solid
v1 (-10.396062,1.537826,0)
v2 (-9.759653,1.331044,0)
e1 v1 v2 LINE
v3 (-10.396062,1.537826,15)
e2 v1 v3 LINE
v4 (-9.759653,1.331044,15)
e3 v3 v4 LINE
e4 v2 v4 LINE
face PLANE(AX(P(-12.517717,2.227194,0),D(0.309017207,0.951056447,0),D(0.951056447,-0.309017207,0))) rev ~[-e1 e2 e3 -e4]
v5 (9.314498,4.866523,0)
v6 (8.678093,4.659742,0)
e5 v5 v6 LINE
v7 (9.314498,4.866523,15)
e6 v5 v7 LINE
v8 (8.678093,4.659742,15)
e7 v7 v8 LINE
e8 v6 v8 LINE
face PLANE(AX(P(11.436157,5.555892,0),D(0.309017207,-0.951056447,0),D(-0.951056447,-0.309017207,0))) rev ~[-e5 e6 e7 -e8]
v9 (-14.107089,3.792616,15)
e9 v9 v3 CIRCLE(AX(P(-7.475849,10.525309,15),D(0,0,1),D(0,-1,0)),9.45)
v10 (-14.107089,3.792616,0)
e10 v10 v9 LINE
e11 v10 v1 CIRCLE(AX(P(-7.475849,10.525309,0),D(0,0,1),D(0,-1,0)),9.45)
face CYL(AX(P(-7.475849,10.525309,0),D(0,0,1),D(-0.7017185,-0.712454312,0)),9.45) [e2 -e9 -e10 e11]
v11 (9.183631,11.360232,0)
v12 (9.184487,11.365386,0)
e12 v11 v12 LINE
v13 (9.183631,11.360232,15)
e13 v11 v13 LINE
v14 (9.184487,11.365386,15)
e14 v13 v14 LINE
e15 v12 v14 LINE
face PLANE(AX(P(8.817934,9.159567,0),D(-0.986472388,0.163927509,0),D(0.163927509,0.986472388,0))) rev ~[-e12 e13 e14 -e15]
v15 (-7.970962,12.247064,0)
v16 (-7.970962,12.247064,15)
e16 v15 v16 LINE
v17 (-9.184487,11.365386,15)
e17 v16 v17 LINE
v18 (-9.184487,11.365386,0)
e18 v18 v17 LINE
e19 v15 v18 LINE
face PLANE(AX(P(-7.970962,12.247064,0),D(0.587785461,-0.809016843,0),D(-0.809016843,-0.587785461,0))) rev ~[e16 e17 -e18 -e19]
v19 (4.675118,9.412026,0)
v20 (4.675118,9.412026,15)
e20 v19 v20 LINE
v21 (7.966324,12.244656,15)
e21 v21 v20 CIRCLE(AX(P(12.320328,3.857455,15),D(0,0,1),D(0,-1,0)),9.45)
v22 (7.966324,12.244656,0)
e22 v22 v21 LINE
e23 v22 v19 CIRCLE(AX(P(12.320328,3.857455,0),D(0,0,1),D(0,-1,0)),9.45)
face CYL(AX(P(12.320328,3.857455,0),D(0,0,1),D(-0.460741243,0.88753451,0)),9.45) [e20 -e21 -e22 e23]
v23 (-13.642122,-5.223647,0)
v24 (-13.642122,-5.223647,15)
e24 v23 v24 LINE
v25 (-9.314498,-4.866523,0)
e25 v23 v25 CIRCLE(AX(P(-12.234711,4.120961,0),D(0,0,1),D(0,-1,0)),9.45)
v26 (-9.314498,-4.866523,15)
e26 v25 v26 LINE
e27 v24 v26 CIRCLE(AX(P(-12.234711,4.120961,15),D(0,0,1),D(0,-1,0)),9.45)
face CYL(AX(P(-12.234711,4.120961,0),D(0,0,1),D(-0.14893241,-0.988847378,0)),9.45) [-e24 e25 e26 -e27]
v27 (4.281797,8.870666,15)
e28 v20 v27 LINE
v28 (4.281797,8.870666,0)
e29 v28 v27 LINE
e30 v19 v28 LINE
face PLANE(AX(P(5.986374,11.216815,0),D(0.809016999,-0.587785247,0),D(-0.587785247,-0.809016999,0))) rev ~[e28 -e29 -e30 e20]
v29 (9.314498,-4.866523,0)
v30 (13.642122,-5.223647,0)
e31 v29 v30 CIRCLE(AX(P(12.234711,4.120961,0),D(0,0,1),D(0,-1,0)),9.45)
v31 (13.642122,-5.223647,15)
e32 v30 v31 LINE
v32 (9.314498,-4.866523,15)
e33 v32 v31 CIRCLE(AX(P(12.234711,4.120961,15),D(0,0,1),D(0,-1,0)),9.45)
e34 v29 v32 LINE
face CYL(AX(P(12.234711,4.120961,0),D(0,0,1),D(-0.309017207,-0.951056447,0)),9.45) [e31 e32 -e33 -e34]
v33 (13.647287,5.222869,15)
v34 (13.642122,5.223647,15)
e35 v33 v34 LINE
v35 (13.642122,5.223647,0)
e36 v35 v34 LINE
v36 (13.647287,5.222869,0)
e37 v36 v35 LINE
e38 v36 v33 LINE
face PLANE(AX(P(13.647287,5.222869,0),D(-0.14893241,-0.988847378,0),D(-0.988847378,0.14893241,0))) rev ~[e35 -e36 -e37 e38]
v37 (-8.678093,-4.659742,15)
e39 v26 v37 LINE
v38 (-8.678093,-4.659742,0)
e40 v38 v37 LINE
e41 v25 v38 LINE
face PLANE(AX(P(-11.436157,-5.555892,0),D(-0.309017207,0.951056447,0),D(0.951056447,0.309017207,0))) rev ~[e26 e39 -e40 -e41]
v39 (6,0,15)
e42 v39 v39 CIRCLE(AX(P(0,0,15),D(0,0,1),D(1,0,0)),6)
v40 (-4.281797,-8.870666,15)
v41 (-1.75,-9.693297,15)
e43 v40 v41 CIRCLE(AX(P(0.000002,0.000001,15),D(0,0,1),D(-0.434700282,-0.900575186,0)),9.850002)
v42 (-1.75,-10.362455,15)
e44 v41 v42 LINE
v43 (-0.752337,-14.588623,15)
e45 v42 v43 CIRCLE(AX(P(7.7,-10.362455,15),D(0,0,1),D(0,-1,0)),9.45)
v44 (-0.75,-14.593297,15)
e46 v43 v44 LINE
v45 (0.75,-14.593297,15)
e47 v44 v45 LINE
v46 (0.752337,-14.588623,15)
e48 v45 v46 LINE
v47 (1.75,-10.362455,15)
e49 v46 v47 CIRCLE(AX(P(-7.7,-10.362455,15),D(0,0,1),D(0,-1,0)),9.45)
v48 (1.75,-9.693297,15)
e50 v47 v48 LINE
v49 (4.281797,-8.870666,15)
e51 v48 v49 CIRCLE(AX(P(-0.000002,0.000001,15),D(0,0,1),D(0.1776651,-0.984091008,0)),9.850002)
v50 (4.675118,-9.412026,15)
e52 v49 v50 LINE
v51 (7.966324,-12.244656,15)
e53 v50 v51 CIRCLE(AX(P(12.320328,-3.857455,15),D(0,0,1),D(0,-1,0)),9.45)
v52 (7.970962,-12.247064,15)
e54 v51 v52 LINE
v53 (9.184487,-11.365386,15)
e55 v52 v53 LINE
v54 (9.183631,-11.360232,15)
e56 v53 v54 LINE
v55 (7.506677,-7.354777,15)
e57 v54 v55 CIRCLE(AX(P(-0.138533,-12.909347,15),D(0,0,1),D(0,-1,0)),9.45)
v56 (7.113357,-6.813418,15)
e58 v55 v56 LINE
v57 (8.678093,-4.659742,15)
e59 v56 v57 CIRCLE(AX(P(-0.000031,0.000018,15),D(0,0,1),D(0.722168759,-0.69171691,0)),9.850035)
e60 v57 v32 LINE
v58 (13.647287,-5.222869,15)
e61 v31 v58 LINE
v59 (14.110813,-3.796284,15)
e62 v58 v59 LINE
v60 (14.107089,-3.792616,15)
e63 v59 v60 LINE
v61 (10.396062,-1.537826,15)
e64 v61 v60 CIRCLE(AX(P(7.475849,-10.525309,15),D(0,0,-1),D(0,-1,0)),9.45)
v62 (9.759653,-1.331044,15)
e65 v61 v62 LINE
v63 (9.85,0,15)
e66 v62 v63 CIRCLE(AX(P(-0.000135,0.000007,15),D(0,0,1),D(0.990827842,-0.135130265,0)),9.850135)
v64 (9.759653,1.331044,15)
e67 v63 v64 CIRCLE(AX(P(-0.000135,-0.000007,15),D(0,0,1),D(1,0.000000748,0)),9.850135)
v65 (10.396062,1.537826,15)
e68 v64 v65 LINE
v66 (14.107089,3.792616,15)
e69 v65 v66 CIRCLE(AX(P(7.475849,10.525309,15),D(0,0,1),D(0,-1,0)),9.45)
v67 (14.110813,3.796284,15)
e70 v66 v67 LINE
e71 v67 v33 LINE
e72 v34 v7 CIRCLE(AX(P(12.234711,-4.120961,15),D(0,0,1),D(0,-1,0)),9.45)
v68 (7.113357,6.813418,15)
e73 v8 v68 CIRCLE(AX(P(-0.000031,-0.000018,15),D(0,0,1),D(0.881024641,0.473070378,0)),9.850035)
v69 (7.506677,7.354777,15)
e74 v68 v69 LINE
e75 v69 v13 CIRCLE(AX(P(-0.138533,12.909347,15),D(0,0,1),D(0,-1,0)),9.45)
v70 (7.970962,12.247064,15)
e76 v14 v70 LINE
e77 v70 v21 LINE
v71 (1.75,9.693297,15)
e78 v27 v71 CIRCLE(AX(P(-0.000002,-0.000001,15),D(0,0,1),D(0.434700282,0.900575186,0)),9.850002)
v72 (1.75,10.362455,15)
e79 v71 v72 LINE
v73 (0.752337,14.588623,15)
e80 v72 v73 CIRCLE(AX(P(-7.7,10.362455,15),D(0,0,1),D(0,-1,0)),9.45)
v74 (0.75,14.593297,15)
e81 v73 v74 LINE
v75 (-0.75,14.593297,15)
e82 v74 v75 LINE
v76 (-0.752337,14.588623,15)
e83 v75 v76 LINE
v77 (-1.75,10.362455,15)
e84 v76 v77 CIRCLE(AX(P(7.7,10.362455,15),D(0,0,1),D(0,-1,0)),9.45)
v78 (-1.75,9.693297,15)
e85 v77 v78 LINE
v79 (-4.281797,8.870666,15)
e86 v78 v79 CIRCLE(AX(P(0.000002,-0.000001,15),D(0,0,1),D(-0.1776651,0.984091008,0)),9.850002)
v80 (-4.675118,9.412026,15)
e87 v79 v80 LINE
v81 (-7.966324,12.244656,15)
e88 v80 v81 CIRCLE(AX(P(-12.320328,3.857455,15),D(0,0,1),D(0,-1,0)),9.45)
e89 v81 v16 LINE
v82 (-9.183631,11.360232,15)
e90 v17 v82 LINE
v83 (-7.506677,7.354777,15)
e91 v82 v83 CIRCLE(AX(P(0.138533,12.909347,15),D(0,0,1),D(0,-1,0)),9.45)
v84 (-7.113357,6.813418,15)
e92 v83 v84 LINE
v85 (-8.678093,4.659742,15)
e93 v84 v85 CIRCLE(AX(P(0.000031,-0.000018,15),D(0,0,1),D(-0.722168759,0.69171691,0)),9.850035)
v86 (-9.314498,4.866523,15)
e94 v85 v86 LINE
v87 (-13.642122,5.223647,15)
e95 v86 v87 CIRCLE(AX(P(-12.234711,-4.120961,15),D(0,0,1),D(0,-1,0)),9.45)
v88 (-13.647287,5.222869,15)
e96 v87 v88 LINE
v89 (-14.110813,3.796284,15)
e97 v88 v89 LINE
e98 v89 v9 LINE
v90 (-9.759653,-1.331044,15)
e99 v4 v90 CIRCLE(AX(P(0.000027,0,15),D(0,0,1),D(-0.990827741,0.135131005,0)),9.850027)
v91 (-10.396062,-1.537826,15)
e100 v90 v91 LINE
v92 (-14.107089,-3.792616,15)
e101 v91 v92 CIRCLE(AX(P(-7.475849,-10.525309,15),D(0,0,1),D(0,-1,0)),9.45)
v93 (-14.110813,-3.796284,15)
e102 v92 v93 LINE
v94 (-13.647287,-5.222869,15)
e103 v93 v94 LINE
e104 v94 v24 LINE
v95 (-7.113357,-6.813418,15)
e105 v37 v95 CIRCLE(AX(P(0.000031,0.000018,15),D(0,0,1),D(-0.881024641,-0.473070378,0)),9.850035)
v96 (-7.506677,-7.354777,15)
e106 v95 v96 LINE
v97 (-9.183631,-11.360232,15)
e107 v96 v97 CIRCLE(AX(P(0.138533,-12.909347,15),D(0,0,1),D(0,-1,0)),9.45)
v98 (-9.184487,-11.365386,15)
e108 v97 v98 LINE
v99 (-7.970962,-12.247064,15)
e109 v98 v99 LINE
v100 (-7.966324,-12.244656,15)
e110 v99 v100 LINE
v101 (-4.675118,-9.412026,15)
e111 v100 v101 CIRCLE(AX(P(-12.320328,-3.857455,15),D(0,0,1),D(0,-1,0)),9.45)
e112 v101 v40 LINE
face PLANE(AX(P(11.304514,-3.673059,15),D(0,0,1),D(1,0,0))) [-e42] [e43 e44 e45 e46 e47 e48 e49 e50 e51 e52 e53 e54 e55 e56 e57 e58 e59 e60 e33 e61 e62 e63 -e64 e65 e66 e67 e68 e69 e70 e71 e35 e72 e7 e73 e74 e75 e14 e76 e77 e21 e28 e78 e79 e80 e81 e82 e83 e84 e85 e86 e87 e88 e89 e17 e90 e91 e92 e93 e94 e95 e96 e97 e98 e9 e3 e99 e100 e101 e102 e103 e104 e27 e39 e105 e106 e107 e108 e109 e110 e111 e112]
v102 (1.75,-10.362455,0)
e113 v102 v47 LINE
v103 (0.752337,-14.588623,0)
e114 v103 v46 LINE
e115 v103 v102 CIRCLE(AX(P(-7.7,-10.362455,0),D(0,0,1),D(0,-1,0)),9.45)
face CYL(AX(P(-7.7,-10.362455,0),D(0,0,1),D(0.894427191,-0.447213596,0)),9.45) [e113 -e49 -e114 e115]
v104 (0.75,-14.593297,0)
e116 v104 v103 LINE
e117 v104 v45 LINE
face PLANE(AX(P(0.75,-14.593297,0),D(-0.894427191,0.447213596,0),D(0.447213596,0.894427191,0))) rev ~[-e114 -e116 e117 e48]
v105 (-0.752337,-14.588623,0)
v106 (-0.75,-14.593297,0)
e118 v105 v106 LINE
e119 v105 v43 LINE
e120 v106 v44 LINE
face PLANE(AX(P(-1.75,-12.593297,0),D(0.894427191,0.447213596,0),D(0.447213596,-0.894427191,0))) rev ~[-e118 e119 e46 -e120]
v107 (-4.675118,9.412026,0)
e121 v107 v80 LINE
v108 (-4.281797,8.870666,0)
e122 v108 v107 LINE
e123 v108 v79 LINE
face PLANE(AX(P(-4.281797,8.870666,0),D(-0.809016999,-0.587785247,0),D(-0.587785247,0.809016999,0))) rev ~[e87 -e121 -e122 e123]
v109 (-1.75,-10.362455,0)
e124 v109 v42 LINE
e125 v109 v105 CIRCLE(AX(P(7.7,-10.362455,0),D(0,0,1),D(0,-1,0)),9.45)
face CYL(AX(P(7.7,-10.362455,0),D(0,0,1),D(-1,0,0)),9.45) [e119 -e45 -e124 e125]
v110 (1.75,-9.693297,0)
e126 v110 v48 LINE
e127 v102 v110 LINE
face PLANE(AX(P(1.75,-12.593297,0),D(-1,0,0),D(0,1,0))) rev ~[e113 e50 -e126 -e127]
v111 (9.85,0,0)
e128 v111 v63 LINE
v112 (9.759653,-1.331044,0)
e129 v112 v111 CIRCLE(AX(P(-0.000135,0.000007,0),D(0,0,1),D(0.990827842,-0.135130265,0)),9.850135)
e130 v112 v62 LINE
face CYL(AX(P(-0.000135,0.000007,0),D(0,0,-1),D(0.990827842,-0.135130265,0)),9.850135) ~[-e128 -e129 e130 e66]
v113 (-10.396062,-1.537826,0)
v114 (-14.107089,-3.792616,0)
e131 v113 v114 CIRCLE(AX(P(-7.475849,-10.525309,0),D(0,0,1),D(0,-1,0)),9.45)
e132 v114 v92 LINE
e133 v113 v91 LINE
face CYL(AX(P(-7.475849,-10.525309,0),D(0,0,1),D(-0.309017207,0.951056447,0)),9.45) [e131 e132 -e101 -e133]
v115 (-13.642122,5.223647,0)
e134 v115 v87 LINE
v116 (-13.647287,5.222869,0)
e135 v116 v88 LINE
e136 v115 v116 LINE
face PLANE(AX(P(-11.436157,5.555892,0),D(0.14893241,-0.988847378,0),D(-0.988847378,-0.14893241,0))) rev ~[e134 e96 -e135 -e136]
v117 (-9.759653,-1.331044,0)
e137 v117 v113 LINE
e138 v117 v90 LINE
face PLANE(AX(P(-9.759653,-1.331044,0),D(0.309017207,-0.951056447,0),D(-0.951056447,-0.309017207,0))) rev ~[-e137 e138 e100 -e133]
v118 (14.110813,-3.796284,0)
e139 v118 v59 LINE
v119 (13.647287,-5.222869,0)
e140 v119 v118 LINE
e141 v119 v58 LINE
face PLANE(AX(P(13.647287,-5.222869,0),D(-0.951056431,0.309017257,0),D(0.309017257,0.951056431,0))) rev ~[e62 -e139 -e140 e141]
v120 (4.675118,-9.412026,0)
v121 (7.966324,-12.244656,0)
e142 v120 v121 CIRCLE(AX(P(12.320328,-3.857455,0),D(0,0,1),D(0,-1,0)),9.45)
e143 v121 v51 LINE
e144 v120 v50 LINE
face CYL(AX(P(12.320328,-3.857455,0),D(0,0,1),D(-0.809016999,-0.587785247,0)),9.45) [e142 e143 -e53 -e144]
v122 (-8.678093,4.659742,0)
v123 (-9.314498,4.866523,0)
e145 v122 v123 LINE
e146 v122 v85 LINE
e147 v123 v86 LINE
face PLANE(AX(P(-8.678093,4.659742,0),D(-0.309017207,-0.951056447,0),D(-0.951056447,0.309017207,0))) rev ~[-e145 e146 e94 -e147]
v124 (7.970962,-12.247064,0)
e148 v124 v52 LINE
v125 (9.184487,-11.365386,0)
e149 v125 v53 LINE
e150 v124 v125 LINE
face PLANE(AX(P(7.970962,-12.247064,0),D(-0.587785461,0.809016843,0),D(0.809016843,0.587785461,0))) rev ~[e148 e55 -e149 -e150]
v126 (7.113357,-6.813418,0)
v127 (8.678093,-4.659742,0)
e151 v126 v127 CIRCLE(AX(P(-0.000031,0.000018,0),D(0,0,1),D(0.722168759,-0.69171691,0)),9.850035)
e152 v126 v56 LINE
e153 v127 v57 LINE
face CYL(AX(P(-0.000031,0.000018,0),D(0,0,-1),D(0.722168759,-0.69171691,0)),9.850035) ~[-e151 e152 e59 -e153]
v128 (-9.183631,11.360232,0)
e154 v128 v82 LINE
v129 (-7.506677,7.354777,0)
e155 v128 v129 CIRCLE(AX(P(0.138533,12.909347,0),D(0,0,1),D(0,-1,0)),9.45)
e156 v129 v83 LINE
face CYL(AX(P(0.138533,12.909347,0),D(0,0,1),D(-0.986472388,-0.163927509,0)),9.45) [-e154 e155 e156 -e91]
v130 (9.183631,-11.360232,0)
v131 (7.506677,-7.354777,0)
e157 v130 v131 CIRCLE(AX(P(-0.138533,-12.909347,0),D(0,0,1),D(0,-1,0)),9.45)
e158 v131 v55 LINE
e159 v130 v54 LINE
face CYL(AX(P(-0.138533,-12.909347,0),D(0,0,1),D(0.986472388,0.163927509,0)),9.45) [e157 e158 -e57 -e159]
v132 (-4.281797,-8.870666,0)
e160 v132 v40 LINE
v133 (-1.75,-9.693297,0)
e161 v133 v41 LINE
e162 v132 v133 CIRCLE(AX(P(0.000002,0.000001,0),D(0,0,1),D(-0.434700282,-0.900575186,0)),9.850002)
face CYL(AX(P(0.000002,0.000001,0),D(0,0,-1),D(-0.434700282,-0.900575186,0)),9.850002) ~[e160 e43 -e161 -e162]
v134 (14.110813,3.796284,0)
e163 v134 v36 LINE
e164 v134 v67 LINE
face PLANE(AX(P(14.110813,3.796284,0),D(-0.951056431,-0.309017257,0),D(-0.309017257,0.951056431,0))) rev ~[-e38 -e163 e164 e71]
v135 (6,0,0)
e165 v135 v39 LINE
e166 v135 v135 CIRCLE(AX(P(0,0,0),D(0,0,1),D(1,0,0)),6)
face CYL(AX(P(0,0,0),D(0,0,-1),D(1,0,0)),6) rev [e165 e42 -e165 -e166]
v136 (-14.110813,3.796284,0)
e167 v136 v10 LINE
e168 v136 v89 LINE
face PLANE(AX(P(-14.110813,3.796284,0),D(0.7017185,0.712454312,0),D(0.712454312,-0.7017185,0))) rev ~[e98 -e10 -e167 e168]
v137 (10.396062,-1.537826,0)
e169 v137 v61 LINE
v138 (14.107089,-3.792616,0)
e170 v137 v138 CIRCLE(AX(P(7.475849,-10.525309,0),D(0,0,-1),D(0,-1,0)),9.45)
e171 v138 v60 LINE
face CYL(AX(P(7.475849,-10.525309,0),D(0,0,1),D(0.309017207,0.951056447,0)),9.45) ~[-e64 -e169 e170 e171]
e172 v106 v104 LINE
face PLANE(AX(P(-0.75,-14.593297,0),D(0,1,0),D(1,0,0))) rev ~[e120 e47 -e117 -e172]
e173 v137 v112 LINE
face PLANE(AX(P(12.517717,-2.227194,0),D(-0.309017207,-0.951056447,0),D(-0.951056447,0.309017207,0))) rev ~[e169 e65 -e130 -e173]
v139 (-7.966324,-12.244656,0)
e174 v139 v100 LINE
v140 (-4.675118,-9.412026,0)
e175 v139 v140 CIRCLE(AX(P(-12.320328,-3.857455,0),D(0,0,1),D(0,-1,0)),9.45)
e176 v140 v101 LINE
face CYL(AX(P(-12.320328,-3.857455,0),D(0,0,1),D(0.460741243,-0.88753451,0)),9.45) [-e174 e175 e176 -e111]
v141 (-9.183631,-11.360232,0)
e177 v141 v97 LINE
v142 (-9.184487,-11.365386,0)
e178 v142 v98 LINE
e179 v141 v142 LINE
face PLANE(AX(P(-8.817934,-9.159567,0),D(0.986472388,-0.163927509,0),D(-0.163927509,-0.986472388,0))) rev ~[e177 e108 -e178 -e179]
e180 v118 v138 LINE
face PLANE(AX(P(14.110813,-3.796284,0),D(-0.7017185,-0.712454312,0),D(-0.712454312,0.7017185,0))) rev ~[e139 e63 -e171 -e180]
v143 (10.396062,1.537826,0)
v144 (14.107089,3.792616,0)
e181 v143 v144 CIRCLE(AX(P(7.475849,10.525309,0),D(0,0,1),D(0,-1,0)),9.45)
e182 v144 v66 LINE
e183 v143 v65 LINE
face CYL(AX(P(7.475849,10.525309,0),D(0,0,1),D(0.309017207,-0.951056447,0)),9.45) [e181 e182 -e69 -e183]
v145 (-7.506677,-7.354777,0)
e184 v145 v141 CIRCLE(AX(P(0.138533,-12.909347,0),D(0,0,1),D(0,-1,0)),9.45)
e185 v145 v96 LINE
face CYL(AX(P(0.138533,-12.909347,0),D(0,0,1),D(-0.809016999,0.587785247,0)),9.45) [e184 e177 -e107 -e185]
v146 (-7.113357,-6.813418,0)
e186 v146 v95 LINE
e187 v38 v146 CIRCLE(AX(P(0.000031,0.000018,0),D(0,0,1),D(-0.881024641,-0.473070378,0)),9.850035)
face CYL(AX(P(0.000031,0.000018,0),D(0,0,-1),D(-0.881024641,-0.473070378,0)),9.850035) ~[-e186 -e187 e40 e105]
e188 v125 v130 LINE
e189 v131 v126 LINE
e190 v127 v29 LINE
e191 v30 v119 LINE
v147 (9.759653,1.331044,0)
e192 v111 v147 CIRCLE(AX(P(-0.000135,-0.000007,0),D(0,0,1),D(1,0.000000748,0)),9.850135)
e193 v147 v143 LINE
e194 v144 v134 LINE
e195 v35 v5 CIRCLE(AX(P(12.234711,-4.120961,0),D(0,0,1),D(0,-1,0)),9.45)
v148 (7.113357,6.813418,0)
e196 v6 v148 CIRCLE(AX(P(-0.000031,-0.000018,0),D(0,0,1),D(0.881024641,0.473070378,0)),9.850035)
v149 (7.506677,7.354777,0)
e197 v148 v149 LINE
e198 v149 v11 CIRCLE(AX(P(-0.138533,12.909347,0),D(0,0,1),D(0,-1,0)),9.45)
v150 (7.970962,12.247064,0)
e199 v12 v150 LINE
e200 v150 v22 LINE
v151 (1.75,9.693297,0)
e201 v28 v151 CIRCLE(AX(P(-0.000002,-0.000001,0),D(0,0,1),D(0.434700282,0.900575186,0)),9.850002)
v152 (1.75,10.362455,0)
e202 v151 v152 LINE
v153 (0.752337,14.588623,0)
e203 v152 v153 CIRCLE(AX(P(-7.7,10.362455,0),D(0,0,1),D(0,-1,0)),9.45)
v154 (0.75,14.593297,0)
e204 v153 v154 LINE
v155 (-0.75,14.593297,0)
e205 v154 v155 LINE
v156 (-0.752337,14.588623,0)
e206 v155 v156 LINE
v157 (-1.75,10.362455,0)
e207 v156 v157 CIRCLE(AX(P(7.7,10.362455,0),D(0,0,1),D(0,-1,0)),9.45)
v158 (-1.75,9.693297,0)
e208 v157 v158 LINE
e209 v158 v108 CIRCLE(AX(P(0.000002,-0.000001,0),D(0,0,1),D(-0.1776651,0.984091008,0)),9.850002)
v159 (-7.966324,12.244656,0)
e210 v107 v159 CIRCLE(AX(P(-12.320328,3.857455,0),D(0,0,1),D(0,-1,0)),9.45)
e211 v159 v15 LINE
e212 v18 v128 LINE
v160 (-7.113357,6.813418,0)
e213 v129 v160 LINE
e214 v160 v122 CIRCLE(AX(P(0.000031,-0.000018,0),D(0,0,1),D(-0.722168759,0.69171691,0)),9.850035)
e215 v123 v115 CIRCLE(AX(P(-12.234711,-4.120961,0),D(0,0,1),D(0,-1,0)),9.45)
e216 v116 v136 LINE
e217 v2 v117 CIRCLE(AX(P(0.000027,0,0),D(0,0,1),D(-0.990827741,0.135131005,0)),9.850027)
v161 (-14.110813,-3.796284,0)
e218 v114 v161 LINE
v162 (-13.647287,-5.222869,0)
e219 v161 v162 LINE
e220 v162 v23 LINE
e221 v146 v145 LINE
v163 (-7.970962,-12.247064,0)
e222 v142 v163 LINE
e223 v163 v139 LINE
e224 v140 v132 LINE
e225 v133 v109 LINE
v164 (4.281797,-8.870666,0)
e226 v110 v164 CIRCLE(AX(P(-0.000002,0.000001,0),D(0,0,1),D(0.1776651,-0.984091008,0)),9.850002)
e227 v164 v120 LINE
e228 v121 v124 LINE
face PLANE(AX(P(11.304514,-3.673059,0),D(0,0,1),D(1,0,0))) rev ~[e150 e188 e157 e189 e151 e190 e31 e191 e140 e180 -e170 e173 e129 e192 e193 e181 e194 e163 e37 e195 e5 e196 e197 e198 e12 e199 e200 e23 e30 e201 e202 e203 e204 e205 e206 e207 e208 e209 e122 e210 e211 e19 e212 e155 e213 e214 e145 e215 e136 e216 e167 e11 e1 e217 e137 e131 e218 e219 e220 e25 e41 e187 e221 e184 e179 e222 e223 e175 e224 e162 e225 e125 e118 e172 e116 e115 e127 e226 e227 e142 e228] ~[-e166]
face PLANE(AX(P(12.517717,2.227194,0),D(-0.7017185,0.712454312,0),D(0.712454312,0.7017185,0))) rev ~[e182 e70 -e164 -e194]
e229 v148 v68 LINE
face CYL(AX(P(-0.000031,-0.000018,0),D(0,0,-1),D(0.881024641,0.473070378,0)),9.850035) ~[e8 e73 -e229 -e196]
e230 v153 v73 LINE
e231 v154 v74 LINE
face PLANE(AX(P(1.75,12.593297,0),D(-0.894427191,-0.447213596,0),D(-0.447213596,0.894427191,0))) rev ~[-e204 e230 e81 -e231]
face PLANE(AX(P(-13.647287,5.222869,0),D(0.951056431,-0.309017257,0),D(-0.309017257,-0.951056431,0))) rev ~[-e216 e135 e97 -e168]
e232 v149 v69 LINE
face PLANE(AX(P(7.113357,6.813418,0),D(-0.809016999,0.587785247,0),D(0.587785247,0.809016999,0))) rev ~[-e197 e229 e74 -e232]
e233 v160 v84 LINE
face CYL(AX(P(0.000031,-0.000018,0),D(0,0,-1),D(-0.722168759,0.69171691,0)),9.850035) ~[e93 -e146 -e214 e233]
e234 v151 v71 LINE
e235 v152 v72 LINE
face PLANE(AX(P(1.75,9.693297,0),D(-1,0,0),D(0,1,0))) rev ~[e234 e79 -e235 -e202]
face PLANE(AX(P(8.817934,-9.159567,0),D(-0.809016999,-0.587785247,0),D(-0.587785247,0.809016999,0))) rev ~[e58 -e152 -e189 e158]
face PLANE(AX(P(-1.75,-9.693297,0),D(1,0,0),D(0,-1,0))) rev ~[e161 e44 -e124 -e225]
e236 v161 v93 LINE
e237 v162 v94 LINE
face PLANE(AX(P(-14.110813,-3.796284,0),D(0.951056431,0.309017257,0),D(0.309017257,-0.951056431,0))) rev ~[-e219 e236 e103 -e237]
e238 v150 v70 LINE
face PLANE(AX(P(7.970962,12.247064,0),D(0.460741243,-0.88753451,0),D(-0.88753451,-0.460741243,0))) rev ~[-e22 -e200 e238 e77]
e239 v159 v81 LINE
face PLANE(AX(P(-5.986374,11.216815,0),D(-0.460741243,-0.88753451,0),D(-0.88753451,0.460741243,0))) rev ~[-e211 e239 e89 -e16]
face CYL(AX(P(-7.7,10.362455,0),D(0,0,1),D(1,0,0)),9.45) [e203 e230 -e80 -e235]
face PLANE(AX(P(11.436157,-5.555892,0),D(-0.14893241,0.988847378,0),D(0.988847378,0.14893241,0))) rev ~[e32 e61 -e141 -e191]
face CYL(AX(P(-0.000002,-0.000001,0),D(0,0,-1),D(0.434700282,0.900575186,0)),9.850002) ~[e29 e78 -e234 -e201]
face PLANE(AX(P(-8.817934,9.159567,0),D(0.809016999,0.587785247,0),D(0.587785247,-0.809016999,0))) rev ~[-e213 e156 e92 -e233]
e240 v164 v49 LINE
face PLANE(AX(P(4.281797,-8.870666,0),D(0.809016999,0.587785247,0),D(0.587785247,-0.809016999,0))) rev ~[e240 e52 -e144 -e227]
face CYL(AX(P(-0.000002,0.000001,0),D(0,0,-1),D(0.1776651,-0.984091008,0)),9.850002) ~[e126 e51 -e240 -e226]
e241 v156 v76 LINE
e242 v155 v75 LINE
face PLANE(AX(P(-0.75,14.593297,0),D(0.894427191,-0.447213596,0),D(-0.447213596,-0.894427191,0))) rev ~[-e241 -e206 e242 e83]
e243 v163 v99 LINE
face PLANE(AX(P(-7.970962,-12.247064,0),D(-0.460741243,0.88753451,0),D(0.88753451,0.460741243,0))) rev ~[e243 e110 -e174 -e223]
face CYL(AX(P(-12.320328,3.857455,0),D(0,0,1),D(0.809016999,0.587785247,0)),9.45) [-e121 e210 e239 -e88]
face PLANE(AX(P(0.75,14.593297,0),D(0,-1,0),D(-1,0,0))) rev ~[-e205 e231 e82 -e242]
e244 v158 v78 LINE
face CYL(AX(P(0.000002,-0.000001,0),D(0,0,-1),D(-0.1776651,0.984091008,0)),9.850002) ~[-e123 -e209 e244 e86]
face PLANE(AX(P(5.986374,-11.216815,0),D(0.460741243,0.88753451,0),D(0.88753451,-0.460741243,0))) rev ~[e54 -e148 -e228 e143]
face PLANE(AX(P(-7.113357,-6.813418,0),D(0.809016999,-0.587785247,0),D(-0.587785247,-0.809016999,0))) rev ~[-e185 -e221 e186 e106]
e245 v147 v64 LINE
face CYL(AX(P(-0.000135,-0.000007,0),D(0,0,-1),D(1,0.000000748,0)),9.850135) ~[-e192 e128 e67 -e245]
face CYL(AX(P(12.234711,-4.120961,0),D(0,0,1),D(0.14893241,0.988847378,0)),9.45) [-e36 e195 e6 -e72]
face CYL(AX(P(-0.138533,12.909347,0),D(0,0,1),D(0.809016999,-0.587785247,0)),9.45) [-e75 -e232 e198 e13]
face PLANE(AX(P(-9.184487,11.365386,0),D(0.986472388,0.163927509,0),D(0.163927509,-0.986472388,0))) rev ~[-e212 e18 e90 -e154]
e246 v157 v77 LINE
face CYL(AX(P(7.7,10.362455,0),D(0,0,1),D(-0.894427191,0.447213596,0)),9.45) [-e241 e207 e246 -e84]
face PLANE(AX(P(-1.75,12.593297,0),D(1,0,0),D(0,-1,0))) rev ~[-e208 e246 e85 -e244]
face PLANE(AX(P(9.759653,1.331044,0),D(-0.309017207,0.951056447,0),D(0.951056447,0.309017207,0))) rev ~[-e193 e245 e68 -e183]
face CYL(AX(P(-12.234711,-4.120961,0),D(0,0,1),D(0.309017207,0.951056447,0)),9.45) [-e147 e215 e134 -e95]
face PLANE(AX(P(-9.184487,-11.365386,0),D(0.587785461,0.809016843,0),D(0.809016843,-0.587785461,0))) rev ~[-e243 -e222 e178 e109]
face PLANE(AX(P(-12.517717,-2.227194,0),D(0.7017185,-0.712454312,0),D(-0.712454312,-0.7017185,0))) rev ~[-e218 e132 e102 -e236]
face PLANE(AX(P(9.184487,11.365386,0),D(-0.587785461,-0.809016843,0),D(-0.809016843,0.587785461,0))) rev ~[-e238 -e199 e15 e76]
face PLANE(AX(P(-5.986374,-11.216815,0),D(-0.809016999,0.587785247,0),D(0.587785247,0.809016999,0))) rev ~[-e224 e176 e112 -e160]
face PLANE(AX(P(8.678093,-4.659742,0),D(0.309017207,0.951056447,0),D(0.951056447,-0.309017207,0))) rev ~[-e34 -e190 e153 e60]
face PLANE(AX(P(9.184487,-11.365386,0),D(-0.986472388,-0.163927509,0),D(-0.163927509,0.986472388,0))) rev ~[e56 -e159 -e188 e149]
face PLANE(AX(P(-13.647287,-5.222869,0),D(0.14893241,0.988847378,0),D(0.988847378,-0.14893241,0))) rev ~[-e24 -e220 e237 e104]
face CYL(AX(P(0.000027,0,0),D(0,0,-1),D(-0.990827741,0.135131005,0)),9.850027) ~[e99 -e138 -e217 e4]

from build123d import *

# Parameters (mm, degrees)
F0_R     = 6
F1_DEPTH = 15
F2_R     = 9.45


with BuildPart() as f1:
    # F0 (on Top) → F1 (new body)
    with BuildSketch(Plane.XY):
        with BuildLine():
            Line((12.517717, -2.227194), (9.759653, -1.331044))
            ThreePointArc((9.759653, -1.331044), (9.367907, -3.043817), (8.678093, -4.659742))
            Line((8.678093, -4.659742), (11.436157, -5.555892))
            Line((11.436157, -5.555892), (13.647287, -5.222869))
            Line((13.647287, -5.222869), (14.110813, -3.796284))
            Line((14.110813, -3.796284), (12.517717, -2.227194))
        make_face()
        with BuildLine():
            Line((8.817934, -9.159567), (7.113357, -6.813418))
            ThreePointArc((7.113357, -6.813418), (5.789685, -7.968817), (4.281797, -8.870666))
            Line((4.281797, -8.870666), (5.986374, -11.216815))
            Line((5.986374, -11.216815), (7.970962, -12.247064))
            Line((7.970962, -12.247064), (9.184487, -11.365386))
            Line((9.184487, -11.365386), (8.817934, -9.159567))
        make_face()
        with BuildLine():
            ThreePointArc((9.759653, -1.331044), (9.827387, -0.667054), (9.85, 0))
            ThreePointArc((9.85, 0), (9.827387, 0.667054), (9.759653, 1.331044))
            ThreePointArc((9.759653, 1.331044), (9.367907, 3.043817), (8.678093, 4.659742))
            ThreePointArc((8.678093, 4.659742), (7.968817, 5.789685), (7.113357, 6.813418))
            ThreePointArc((7.113357, 6.813418), (5.789685, 7.968817), (4.281797, 8.870666))
            ThreePointArc((4.281797, 8.870666), (3.043817, 9.367907), (1.75, 9.693297))
            ThreePointArc((1.75, 9.693297), (0, 9.85), (-1.75, 9.693297))
            ThreePointArc((-1.75, 9.693297), (-3.043817, 9.367907), (-4.281797, 8.870666))
            ThreePointArc((-4.281797, 8.870666), (-5.789685, 7.968817), (-7.113357, 6.813418))
            ThreePointArc((-7.113357, 6.813418), (-7.968817, 5.789685), (-8.678093, 4.659742))
            ThreePointArc((-8.678093, 4.659742), (-9.367907, 3.043817), (-9.759653, 1.331044))
            ThreePointArc((-9.759653, 1.331044), (-9.85, 0), (-9.759653, -1.331044))
            ThreePointArc((-9.759653, -1.331044), (-9.367907, -3.043817), (-8.678093, -4.659742))
            ThreePointArc((-8.678093, -4.659742), (-7.968817, -5.789685), (-7.113357, -6.813418))
            ThreePointArc((-7.113357, -6.813418), (-5.789685, -7.968817), (-4.281797, -8.870666))
            ThreePointArc((-4.281797, -8.870666), (-3.043817, -9.367907), (-1.75, -9.693297))
            ThreePointArc((-1.75, -9.693297), (0, -9.85), (1.75, -9.693297))
            ThreePointArc((1.75, -9.693297), (3.043817, -9.367907), (4.281797, -8.870666))
            ThreePointArc((4.281797, -8.870666), (5.789685, -7.968817), (7.113357, -6.813418))
            ThreePointArc((7.113357, -6.813418), (7.968817, -5.789685), (8.678093, -4.659742))
            ThreePointArc((8.678093, -4.659742), (9.367907, -3.043817), (9.759653, -1.331044))
        make_face()
        Circle(F0_R, mode=Mode.SUBTRACT)
        with BuildLine():
            ThreePointArc((8.678093, 4.659742), (9.367907, 3.043817), (9.759653, 1.331044))
            Line((9.759653, 1.331044), (12.517717, 2.227194))
            Line((12.517717, 2.227194), (14.110813, 3.796284))
            Line((14.110813, 3.796284), (13.647287, 5.222869))
            Line((13.647287, 5.222869), (11.436157, 5.555892))
            Line((11.436157, 5.555892), (8.678093, 4.659742))
        make_face()
        with BuildLine():
            ThreePointArc((4.281797, 8.870666), (5.789685, 7.968817), (7.113357, 6.813418))
            Line((7.113357, 6.813418), (8.817934, 9.159567))
            Line((8.817934, 9.159567), (9.184487, 11.365386))
            Line((9.184487, 11.365386), (7.970962, 12.247064))
            Line((7.970962, 12.247064), (5.986374, 11.216815))
            Line((5.986374, 11.216815), (4.281797, 8.870666))
        make_face()
        with BuildLine():
            ThreePointArc((-1.75, 9.693297), (0, 9.85), (1.75, 9.693297))
            Line((1.75, 9.693297), (1.75, 12.593297))
            Line((1.75, 12.593297), (0.75, 14.593297))
            Line((0.75, 14.593297), (-0.75, 14.593297))
            Line((-0.75, 14.593297), (-1.75, 12.593297))
            Line((-1.75, 12.593297), (-1.75, 9.693297))
        make_face()
        with BuildLine():
            ThreePointArc((-7.113357, 6.813418), (-5.789685, 7.968817), (-4.281797, 8.870666))
            Line((-4.281797, 8.870666), (-5.986374, 11.216815))
            Line((-5.986374, 11.216815), (-7.970962, 12.247064))
            Line((-7.970962, 12.247064), (-9.184487, 11.365386))
            Line((-9.184487, 11.365386), (-8.817934, 9.159567))
            Line((-8.817934, 9.159567), (-7.113357, 6.813418))
        make_face()
        with BuildLine():
            ThreePointArc((-9.759653, 1.331044), (-9.367907, 3.043817), (-8.678093, 4.659742))
            Line((-8.678093, 4.659742), (-11.436157, 5.555892))
            Line((-11.436157, 5.555892), (-13.647287, 5.222869))
            Line((-13.647287, 5.222869), (-14.110813, 3.796284))
            Line((-14.110813, 3.796284), (-12.517717, 2.227194))
            Line((-12.517717, 2.227194), (-9.759653, 1.331044))
        make_face()
        with BuildLine():
            Line((-11.436157, -5.555892), (-8.678093, -4.659742))
            ThreePointArc((-8.678093, -4.659742), (-9.367907, -3.043817), (-9.759653, -1.331044))
            Line((-9.759653, -1.331044), (-12.517717, -2.227194))
            Line((-12.517717, -2.227194), (-14.110813, -3.796284))
            Line((-14.110813, -3.796284), (-13.647287, -5.222869))
            Line((-13.647287, -5.222869), (-11.436157, -5.555892))
        make_face()
        with BuildLine():
            Line((-5.986374, -11.216815), (-4.281797, -8.870666))
            ThreePointArc((-4.281797, -8.870666), (-5.789685, -7.968817), (-7.113357, -6.813418))
            Line((-7.113357, -6.813418), (-8.817934, -9.159567))
            Line((-8.817934, -9.159567), (-9.184487, -11.365386))
            Line((-9.184487, -11.365386), (-7.970962, -12.247064))
            Line((-7.970962, -12.247064), (-5.986374, -11.216815))
        make_face()
        with BuildLine():
            Line((1.75, -12.593297), (1.75, -9.693297))
            ThreePointArc((1.75, -9.693297), (0, -9.85), (-1.75, -9.693297))
            Line((-1.75, -9.693297), (-1.75, -12.593297))
            Line((-1.75, -12.593297), (-0.75, -14.593297))
            Line((-0.75, -14.593297), (0.75, -14.593297))
            Line((0.75, -14.593297), (1.75, -12.593297))
        make_face()
    extrude(amount=F1_DEPTH)

    # F2
    f2_edges = [f1.edges().sort_by_distance(p)[0] for p in [
        (8.817934, -9.159567, 7.5),
        (5.986374, -11.216815, 7.5),
        (11.436157, -5.555892, 7.5),
        (12.517717, -2.227194, 7.5),
        (12.517717, 2.227194, 7.5),
        (11.436157, 5.555892, 7.5),
        (8.817934, 9.159567, 7.5),
        (5.986374, 11.216815, 7.5),
        (1.75, 12.593297, 7.5),
        (-1.75, 12.593297, 7.5),
        (-5.986374, 11.216815, 7.5),
        (-8.817934, 9.159567, 7.5),
        (-11.436157, 5.555892, 7.5),
        (-12.517717, 2.227194, 7.5),
        (-12.517717, -2.227194, 7.5),
        (-11.436157, -5.555892, 7.5),
        (-8.817934, -9.159567, 7.5),
        (-5.986374, -11.216815, 7.5),
        (-1.75, -12.593297, 7.5),
        (1.75, -12.593297, 7.5),
    ]]
    fillet(f2_edges, radius=F2_R)


solid = f1.part
